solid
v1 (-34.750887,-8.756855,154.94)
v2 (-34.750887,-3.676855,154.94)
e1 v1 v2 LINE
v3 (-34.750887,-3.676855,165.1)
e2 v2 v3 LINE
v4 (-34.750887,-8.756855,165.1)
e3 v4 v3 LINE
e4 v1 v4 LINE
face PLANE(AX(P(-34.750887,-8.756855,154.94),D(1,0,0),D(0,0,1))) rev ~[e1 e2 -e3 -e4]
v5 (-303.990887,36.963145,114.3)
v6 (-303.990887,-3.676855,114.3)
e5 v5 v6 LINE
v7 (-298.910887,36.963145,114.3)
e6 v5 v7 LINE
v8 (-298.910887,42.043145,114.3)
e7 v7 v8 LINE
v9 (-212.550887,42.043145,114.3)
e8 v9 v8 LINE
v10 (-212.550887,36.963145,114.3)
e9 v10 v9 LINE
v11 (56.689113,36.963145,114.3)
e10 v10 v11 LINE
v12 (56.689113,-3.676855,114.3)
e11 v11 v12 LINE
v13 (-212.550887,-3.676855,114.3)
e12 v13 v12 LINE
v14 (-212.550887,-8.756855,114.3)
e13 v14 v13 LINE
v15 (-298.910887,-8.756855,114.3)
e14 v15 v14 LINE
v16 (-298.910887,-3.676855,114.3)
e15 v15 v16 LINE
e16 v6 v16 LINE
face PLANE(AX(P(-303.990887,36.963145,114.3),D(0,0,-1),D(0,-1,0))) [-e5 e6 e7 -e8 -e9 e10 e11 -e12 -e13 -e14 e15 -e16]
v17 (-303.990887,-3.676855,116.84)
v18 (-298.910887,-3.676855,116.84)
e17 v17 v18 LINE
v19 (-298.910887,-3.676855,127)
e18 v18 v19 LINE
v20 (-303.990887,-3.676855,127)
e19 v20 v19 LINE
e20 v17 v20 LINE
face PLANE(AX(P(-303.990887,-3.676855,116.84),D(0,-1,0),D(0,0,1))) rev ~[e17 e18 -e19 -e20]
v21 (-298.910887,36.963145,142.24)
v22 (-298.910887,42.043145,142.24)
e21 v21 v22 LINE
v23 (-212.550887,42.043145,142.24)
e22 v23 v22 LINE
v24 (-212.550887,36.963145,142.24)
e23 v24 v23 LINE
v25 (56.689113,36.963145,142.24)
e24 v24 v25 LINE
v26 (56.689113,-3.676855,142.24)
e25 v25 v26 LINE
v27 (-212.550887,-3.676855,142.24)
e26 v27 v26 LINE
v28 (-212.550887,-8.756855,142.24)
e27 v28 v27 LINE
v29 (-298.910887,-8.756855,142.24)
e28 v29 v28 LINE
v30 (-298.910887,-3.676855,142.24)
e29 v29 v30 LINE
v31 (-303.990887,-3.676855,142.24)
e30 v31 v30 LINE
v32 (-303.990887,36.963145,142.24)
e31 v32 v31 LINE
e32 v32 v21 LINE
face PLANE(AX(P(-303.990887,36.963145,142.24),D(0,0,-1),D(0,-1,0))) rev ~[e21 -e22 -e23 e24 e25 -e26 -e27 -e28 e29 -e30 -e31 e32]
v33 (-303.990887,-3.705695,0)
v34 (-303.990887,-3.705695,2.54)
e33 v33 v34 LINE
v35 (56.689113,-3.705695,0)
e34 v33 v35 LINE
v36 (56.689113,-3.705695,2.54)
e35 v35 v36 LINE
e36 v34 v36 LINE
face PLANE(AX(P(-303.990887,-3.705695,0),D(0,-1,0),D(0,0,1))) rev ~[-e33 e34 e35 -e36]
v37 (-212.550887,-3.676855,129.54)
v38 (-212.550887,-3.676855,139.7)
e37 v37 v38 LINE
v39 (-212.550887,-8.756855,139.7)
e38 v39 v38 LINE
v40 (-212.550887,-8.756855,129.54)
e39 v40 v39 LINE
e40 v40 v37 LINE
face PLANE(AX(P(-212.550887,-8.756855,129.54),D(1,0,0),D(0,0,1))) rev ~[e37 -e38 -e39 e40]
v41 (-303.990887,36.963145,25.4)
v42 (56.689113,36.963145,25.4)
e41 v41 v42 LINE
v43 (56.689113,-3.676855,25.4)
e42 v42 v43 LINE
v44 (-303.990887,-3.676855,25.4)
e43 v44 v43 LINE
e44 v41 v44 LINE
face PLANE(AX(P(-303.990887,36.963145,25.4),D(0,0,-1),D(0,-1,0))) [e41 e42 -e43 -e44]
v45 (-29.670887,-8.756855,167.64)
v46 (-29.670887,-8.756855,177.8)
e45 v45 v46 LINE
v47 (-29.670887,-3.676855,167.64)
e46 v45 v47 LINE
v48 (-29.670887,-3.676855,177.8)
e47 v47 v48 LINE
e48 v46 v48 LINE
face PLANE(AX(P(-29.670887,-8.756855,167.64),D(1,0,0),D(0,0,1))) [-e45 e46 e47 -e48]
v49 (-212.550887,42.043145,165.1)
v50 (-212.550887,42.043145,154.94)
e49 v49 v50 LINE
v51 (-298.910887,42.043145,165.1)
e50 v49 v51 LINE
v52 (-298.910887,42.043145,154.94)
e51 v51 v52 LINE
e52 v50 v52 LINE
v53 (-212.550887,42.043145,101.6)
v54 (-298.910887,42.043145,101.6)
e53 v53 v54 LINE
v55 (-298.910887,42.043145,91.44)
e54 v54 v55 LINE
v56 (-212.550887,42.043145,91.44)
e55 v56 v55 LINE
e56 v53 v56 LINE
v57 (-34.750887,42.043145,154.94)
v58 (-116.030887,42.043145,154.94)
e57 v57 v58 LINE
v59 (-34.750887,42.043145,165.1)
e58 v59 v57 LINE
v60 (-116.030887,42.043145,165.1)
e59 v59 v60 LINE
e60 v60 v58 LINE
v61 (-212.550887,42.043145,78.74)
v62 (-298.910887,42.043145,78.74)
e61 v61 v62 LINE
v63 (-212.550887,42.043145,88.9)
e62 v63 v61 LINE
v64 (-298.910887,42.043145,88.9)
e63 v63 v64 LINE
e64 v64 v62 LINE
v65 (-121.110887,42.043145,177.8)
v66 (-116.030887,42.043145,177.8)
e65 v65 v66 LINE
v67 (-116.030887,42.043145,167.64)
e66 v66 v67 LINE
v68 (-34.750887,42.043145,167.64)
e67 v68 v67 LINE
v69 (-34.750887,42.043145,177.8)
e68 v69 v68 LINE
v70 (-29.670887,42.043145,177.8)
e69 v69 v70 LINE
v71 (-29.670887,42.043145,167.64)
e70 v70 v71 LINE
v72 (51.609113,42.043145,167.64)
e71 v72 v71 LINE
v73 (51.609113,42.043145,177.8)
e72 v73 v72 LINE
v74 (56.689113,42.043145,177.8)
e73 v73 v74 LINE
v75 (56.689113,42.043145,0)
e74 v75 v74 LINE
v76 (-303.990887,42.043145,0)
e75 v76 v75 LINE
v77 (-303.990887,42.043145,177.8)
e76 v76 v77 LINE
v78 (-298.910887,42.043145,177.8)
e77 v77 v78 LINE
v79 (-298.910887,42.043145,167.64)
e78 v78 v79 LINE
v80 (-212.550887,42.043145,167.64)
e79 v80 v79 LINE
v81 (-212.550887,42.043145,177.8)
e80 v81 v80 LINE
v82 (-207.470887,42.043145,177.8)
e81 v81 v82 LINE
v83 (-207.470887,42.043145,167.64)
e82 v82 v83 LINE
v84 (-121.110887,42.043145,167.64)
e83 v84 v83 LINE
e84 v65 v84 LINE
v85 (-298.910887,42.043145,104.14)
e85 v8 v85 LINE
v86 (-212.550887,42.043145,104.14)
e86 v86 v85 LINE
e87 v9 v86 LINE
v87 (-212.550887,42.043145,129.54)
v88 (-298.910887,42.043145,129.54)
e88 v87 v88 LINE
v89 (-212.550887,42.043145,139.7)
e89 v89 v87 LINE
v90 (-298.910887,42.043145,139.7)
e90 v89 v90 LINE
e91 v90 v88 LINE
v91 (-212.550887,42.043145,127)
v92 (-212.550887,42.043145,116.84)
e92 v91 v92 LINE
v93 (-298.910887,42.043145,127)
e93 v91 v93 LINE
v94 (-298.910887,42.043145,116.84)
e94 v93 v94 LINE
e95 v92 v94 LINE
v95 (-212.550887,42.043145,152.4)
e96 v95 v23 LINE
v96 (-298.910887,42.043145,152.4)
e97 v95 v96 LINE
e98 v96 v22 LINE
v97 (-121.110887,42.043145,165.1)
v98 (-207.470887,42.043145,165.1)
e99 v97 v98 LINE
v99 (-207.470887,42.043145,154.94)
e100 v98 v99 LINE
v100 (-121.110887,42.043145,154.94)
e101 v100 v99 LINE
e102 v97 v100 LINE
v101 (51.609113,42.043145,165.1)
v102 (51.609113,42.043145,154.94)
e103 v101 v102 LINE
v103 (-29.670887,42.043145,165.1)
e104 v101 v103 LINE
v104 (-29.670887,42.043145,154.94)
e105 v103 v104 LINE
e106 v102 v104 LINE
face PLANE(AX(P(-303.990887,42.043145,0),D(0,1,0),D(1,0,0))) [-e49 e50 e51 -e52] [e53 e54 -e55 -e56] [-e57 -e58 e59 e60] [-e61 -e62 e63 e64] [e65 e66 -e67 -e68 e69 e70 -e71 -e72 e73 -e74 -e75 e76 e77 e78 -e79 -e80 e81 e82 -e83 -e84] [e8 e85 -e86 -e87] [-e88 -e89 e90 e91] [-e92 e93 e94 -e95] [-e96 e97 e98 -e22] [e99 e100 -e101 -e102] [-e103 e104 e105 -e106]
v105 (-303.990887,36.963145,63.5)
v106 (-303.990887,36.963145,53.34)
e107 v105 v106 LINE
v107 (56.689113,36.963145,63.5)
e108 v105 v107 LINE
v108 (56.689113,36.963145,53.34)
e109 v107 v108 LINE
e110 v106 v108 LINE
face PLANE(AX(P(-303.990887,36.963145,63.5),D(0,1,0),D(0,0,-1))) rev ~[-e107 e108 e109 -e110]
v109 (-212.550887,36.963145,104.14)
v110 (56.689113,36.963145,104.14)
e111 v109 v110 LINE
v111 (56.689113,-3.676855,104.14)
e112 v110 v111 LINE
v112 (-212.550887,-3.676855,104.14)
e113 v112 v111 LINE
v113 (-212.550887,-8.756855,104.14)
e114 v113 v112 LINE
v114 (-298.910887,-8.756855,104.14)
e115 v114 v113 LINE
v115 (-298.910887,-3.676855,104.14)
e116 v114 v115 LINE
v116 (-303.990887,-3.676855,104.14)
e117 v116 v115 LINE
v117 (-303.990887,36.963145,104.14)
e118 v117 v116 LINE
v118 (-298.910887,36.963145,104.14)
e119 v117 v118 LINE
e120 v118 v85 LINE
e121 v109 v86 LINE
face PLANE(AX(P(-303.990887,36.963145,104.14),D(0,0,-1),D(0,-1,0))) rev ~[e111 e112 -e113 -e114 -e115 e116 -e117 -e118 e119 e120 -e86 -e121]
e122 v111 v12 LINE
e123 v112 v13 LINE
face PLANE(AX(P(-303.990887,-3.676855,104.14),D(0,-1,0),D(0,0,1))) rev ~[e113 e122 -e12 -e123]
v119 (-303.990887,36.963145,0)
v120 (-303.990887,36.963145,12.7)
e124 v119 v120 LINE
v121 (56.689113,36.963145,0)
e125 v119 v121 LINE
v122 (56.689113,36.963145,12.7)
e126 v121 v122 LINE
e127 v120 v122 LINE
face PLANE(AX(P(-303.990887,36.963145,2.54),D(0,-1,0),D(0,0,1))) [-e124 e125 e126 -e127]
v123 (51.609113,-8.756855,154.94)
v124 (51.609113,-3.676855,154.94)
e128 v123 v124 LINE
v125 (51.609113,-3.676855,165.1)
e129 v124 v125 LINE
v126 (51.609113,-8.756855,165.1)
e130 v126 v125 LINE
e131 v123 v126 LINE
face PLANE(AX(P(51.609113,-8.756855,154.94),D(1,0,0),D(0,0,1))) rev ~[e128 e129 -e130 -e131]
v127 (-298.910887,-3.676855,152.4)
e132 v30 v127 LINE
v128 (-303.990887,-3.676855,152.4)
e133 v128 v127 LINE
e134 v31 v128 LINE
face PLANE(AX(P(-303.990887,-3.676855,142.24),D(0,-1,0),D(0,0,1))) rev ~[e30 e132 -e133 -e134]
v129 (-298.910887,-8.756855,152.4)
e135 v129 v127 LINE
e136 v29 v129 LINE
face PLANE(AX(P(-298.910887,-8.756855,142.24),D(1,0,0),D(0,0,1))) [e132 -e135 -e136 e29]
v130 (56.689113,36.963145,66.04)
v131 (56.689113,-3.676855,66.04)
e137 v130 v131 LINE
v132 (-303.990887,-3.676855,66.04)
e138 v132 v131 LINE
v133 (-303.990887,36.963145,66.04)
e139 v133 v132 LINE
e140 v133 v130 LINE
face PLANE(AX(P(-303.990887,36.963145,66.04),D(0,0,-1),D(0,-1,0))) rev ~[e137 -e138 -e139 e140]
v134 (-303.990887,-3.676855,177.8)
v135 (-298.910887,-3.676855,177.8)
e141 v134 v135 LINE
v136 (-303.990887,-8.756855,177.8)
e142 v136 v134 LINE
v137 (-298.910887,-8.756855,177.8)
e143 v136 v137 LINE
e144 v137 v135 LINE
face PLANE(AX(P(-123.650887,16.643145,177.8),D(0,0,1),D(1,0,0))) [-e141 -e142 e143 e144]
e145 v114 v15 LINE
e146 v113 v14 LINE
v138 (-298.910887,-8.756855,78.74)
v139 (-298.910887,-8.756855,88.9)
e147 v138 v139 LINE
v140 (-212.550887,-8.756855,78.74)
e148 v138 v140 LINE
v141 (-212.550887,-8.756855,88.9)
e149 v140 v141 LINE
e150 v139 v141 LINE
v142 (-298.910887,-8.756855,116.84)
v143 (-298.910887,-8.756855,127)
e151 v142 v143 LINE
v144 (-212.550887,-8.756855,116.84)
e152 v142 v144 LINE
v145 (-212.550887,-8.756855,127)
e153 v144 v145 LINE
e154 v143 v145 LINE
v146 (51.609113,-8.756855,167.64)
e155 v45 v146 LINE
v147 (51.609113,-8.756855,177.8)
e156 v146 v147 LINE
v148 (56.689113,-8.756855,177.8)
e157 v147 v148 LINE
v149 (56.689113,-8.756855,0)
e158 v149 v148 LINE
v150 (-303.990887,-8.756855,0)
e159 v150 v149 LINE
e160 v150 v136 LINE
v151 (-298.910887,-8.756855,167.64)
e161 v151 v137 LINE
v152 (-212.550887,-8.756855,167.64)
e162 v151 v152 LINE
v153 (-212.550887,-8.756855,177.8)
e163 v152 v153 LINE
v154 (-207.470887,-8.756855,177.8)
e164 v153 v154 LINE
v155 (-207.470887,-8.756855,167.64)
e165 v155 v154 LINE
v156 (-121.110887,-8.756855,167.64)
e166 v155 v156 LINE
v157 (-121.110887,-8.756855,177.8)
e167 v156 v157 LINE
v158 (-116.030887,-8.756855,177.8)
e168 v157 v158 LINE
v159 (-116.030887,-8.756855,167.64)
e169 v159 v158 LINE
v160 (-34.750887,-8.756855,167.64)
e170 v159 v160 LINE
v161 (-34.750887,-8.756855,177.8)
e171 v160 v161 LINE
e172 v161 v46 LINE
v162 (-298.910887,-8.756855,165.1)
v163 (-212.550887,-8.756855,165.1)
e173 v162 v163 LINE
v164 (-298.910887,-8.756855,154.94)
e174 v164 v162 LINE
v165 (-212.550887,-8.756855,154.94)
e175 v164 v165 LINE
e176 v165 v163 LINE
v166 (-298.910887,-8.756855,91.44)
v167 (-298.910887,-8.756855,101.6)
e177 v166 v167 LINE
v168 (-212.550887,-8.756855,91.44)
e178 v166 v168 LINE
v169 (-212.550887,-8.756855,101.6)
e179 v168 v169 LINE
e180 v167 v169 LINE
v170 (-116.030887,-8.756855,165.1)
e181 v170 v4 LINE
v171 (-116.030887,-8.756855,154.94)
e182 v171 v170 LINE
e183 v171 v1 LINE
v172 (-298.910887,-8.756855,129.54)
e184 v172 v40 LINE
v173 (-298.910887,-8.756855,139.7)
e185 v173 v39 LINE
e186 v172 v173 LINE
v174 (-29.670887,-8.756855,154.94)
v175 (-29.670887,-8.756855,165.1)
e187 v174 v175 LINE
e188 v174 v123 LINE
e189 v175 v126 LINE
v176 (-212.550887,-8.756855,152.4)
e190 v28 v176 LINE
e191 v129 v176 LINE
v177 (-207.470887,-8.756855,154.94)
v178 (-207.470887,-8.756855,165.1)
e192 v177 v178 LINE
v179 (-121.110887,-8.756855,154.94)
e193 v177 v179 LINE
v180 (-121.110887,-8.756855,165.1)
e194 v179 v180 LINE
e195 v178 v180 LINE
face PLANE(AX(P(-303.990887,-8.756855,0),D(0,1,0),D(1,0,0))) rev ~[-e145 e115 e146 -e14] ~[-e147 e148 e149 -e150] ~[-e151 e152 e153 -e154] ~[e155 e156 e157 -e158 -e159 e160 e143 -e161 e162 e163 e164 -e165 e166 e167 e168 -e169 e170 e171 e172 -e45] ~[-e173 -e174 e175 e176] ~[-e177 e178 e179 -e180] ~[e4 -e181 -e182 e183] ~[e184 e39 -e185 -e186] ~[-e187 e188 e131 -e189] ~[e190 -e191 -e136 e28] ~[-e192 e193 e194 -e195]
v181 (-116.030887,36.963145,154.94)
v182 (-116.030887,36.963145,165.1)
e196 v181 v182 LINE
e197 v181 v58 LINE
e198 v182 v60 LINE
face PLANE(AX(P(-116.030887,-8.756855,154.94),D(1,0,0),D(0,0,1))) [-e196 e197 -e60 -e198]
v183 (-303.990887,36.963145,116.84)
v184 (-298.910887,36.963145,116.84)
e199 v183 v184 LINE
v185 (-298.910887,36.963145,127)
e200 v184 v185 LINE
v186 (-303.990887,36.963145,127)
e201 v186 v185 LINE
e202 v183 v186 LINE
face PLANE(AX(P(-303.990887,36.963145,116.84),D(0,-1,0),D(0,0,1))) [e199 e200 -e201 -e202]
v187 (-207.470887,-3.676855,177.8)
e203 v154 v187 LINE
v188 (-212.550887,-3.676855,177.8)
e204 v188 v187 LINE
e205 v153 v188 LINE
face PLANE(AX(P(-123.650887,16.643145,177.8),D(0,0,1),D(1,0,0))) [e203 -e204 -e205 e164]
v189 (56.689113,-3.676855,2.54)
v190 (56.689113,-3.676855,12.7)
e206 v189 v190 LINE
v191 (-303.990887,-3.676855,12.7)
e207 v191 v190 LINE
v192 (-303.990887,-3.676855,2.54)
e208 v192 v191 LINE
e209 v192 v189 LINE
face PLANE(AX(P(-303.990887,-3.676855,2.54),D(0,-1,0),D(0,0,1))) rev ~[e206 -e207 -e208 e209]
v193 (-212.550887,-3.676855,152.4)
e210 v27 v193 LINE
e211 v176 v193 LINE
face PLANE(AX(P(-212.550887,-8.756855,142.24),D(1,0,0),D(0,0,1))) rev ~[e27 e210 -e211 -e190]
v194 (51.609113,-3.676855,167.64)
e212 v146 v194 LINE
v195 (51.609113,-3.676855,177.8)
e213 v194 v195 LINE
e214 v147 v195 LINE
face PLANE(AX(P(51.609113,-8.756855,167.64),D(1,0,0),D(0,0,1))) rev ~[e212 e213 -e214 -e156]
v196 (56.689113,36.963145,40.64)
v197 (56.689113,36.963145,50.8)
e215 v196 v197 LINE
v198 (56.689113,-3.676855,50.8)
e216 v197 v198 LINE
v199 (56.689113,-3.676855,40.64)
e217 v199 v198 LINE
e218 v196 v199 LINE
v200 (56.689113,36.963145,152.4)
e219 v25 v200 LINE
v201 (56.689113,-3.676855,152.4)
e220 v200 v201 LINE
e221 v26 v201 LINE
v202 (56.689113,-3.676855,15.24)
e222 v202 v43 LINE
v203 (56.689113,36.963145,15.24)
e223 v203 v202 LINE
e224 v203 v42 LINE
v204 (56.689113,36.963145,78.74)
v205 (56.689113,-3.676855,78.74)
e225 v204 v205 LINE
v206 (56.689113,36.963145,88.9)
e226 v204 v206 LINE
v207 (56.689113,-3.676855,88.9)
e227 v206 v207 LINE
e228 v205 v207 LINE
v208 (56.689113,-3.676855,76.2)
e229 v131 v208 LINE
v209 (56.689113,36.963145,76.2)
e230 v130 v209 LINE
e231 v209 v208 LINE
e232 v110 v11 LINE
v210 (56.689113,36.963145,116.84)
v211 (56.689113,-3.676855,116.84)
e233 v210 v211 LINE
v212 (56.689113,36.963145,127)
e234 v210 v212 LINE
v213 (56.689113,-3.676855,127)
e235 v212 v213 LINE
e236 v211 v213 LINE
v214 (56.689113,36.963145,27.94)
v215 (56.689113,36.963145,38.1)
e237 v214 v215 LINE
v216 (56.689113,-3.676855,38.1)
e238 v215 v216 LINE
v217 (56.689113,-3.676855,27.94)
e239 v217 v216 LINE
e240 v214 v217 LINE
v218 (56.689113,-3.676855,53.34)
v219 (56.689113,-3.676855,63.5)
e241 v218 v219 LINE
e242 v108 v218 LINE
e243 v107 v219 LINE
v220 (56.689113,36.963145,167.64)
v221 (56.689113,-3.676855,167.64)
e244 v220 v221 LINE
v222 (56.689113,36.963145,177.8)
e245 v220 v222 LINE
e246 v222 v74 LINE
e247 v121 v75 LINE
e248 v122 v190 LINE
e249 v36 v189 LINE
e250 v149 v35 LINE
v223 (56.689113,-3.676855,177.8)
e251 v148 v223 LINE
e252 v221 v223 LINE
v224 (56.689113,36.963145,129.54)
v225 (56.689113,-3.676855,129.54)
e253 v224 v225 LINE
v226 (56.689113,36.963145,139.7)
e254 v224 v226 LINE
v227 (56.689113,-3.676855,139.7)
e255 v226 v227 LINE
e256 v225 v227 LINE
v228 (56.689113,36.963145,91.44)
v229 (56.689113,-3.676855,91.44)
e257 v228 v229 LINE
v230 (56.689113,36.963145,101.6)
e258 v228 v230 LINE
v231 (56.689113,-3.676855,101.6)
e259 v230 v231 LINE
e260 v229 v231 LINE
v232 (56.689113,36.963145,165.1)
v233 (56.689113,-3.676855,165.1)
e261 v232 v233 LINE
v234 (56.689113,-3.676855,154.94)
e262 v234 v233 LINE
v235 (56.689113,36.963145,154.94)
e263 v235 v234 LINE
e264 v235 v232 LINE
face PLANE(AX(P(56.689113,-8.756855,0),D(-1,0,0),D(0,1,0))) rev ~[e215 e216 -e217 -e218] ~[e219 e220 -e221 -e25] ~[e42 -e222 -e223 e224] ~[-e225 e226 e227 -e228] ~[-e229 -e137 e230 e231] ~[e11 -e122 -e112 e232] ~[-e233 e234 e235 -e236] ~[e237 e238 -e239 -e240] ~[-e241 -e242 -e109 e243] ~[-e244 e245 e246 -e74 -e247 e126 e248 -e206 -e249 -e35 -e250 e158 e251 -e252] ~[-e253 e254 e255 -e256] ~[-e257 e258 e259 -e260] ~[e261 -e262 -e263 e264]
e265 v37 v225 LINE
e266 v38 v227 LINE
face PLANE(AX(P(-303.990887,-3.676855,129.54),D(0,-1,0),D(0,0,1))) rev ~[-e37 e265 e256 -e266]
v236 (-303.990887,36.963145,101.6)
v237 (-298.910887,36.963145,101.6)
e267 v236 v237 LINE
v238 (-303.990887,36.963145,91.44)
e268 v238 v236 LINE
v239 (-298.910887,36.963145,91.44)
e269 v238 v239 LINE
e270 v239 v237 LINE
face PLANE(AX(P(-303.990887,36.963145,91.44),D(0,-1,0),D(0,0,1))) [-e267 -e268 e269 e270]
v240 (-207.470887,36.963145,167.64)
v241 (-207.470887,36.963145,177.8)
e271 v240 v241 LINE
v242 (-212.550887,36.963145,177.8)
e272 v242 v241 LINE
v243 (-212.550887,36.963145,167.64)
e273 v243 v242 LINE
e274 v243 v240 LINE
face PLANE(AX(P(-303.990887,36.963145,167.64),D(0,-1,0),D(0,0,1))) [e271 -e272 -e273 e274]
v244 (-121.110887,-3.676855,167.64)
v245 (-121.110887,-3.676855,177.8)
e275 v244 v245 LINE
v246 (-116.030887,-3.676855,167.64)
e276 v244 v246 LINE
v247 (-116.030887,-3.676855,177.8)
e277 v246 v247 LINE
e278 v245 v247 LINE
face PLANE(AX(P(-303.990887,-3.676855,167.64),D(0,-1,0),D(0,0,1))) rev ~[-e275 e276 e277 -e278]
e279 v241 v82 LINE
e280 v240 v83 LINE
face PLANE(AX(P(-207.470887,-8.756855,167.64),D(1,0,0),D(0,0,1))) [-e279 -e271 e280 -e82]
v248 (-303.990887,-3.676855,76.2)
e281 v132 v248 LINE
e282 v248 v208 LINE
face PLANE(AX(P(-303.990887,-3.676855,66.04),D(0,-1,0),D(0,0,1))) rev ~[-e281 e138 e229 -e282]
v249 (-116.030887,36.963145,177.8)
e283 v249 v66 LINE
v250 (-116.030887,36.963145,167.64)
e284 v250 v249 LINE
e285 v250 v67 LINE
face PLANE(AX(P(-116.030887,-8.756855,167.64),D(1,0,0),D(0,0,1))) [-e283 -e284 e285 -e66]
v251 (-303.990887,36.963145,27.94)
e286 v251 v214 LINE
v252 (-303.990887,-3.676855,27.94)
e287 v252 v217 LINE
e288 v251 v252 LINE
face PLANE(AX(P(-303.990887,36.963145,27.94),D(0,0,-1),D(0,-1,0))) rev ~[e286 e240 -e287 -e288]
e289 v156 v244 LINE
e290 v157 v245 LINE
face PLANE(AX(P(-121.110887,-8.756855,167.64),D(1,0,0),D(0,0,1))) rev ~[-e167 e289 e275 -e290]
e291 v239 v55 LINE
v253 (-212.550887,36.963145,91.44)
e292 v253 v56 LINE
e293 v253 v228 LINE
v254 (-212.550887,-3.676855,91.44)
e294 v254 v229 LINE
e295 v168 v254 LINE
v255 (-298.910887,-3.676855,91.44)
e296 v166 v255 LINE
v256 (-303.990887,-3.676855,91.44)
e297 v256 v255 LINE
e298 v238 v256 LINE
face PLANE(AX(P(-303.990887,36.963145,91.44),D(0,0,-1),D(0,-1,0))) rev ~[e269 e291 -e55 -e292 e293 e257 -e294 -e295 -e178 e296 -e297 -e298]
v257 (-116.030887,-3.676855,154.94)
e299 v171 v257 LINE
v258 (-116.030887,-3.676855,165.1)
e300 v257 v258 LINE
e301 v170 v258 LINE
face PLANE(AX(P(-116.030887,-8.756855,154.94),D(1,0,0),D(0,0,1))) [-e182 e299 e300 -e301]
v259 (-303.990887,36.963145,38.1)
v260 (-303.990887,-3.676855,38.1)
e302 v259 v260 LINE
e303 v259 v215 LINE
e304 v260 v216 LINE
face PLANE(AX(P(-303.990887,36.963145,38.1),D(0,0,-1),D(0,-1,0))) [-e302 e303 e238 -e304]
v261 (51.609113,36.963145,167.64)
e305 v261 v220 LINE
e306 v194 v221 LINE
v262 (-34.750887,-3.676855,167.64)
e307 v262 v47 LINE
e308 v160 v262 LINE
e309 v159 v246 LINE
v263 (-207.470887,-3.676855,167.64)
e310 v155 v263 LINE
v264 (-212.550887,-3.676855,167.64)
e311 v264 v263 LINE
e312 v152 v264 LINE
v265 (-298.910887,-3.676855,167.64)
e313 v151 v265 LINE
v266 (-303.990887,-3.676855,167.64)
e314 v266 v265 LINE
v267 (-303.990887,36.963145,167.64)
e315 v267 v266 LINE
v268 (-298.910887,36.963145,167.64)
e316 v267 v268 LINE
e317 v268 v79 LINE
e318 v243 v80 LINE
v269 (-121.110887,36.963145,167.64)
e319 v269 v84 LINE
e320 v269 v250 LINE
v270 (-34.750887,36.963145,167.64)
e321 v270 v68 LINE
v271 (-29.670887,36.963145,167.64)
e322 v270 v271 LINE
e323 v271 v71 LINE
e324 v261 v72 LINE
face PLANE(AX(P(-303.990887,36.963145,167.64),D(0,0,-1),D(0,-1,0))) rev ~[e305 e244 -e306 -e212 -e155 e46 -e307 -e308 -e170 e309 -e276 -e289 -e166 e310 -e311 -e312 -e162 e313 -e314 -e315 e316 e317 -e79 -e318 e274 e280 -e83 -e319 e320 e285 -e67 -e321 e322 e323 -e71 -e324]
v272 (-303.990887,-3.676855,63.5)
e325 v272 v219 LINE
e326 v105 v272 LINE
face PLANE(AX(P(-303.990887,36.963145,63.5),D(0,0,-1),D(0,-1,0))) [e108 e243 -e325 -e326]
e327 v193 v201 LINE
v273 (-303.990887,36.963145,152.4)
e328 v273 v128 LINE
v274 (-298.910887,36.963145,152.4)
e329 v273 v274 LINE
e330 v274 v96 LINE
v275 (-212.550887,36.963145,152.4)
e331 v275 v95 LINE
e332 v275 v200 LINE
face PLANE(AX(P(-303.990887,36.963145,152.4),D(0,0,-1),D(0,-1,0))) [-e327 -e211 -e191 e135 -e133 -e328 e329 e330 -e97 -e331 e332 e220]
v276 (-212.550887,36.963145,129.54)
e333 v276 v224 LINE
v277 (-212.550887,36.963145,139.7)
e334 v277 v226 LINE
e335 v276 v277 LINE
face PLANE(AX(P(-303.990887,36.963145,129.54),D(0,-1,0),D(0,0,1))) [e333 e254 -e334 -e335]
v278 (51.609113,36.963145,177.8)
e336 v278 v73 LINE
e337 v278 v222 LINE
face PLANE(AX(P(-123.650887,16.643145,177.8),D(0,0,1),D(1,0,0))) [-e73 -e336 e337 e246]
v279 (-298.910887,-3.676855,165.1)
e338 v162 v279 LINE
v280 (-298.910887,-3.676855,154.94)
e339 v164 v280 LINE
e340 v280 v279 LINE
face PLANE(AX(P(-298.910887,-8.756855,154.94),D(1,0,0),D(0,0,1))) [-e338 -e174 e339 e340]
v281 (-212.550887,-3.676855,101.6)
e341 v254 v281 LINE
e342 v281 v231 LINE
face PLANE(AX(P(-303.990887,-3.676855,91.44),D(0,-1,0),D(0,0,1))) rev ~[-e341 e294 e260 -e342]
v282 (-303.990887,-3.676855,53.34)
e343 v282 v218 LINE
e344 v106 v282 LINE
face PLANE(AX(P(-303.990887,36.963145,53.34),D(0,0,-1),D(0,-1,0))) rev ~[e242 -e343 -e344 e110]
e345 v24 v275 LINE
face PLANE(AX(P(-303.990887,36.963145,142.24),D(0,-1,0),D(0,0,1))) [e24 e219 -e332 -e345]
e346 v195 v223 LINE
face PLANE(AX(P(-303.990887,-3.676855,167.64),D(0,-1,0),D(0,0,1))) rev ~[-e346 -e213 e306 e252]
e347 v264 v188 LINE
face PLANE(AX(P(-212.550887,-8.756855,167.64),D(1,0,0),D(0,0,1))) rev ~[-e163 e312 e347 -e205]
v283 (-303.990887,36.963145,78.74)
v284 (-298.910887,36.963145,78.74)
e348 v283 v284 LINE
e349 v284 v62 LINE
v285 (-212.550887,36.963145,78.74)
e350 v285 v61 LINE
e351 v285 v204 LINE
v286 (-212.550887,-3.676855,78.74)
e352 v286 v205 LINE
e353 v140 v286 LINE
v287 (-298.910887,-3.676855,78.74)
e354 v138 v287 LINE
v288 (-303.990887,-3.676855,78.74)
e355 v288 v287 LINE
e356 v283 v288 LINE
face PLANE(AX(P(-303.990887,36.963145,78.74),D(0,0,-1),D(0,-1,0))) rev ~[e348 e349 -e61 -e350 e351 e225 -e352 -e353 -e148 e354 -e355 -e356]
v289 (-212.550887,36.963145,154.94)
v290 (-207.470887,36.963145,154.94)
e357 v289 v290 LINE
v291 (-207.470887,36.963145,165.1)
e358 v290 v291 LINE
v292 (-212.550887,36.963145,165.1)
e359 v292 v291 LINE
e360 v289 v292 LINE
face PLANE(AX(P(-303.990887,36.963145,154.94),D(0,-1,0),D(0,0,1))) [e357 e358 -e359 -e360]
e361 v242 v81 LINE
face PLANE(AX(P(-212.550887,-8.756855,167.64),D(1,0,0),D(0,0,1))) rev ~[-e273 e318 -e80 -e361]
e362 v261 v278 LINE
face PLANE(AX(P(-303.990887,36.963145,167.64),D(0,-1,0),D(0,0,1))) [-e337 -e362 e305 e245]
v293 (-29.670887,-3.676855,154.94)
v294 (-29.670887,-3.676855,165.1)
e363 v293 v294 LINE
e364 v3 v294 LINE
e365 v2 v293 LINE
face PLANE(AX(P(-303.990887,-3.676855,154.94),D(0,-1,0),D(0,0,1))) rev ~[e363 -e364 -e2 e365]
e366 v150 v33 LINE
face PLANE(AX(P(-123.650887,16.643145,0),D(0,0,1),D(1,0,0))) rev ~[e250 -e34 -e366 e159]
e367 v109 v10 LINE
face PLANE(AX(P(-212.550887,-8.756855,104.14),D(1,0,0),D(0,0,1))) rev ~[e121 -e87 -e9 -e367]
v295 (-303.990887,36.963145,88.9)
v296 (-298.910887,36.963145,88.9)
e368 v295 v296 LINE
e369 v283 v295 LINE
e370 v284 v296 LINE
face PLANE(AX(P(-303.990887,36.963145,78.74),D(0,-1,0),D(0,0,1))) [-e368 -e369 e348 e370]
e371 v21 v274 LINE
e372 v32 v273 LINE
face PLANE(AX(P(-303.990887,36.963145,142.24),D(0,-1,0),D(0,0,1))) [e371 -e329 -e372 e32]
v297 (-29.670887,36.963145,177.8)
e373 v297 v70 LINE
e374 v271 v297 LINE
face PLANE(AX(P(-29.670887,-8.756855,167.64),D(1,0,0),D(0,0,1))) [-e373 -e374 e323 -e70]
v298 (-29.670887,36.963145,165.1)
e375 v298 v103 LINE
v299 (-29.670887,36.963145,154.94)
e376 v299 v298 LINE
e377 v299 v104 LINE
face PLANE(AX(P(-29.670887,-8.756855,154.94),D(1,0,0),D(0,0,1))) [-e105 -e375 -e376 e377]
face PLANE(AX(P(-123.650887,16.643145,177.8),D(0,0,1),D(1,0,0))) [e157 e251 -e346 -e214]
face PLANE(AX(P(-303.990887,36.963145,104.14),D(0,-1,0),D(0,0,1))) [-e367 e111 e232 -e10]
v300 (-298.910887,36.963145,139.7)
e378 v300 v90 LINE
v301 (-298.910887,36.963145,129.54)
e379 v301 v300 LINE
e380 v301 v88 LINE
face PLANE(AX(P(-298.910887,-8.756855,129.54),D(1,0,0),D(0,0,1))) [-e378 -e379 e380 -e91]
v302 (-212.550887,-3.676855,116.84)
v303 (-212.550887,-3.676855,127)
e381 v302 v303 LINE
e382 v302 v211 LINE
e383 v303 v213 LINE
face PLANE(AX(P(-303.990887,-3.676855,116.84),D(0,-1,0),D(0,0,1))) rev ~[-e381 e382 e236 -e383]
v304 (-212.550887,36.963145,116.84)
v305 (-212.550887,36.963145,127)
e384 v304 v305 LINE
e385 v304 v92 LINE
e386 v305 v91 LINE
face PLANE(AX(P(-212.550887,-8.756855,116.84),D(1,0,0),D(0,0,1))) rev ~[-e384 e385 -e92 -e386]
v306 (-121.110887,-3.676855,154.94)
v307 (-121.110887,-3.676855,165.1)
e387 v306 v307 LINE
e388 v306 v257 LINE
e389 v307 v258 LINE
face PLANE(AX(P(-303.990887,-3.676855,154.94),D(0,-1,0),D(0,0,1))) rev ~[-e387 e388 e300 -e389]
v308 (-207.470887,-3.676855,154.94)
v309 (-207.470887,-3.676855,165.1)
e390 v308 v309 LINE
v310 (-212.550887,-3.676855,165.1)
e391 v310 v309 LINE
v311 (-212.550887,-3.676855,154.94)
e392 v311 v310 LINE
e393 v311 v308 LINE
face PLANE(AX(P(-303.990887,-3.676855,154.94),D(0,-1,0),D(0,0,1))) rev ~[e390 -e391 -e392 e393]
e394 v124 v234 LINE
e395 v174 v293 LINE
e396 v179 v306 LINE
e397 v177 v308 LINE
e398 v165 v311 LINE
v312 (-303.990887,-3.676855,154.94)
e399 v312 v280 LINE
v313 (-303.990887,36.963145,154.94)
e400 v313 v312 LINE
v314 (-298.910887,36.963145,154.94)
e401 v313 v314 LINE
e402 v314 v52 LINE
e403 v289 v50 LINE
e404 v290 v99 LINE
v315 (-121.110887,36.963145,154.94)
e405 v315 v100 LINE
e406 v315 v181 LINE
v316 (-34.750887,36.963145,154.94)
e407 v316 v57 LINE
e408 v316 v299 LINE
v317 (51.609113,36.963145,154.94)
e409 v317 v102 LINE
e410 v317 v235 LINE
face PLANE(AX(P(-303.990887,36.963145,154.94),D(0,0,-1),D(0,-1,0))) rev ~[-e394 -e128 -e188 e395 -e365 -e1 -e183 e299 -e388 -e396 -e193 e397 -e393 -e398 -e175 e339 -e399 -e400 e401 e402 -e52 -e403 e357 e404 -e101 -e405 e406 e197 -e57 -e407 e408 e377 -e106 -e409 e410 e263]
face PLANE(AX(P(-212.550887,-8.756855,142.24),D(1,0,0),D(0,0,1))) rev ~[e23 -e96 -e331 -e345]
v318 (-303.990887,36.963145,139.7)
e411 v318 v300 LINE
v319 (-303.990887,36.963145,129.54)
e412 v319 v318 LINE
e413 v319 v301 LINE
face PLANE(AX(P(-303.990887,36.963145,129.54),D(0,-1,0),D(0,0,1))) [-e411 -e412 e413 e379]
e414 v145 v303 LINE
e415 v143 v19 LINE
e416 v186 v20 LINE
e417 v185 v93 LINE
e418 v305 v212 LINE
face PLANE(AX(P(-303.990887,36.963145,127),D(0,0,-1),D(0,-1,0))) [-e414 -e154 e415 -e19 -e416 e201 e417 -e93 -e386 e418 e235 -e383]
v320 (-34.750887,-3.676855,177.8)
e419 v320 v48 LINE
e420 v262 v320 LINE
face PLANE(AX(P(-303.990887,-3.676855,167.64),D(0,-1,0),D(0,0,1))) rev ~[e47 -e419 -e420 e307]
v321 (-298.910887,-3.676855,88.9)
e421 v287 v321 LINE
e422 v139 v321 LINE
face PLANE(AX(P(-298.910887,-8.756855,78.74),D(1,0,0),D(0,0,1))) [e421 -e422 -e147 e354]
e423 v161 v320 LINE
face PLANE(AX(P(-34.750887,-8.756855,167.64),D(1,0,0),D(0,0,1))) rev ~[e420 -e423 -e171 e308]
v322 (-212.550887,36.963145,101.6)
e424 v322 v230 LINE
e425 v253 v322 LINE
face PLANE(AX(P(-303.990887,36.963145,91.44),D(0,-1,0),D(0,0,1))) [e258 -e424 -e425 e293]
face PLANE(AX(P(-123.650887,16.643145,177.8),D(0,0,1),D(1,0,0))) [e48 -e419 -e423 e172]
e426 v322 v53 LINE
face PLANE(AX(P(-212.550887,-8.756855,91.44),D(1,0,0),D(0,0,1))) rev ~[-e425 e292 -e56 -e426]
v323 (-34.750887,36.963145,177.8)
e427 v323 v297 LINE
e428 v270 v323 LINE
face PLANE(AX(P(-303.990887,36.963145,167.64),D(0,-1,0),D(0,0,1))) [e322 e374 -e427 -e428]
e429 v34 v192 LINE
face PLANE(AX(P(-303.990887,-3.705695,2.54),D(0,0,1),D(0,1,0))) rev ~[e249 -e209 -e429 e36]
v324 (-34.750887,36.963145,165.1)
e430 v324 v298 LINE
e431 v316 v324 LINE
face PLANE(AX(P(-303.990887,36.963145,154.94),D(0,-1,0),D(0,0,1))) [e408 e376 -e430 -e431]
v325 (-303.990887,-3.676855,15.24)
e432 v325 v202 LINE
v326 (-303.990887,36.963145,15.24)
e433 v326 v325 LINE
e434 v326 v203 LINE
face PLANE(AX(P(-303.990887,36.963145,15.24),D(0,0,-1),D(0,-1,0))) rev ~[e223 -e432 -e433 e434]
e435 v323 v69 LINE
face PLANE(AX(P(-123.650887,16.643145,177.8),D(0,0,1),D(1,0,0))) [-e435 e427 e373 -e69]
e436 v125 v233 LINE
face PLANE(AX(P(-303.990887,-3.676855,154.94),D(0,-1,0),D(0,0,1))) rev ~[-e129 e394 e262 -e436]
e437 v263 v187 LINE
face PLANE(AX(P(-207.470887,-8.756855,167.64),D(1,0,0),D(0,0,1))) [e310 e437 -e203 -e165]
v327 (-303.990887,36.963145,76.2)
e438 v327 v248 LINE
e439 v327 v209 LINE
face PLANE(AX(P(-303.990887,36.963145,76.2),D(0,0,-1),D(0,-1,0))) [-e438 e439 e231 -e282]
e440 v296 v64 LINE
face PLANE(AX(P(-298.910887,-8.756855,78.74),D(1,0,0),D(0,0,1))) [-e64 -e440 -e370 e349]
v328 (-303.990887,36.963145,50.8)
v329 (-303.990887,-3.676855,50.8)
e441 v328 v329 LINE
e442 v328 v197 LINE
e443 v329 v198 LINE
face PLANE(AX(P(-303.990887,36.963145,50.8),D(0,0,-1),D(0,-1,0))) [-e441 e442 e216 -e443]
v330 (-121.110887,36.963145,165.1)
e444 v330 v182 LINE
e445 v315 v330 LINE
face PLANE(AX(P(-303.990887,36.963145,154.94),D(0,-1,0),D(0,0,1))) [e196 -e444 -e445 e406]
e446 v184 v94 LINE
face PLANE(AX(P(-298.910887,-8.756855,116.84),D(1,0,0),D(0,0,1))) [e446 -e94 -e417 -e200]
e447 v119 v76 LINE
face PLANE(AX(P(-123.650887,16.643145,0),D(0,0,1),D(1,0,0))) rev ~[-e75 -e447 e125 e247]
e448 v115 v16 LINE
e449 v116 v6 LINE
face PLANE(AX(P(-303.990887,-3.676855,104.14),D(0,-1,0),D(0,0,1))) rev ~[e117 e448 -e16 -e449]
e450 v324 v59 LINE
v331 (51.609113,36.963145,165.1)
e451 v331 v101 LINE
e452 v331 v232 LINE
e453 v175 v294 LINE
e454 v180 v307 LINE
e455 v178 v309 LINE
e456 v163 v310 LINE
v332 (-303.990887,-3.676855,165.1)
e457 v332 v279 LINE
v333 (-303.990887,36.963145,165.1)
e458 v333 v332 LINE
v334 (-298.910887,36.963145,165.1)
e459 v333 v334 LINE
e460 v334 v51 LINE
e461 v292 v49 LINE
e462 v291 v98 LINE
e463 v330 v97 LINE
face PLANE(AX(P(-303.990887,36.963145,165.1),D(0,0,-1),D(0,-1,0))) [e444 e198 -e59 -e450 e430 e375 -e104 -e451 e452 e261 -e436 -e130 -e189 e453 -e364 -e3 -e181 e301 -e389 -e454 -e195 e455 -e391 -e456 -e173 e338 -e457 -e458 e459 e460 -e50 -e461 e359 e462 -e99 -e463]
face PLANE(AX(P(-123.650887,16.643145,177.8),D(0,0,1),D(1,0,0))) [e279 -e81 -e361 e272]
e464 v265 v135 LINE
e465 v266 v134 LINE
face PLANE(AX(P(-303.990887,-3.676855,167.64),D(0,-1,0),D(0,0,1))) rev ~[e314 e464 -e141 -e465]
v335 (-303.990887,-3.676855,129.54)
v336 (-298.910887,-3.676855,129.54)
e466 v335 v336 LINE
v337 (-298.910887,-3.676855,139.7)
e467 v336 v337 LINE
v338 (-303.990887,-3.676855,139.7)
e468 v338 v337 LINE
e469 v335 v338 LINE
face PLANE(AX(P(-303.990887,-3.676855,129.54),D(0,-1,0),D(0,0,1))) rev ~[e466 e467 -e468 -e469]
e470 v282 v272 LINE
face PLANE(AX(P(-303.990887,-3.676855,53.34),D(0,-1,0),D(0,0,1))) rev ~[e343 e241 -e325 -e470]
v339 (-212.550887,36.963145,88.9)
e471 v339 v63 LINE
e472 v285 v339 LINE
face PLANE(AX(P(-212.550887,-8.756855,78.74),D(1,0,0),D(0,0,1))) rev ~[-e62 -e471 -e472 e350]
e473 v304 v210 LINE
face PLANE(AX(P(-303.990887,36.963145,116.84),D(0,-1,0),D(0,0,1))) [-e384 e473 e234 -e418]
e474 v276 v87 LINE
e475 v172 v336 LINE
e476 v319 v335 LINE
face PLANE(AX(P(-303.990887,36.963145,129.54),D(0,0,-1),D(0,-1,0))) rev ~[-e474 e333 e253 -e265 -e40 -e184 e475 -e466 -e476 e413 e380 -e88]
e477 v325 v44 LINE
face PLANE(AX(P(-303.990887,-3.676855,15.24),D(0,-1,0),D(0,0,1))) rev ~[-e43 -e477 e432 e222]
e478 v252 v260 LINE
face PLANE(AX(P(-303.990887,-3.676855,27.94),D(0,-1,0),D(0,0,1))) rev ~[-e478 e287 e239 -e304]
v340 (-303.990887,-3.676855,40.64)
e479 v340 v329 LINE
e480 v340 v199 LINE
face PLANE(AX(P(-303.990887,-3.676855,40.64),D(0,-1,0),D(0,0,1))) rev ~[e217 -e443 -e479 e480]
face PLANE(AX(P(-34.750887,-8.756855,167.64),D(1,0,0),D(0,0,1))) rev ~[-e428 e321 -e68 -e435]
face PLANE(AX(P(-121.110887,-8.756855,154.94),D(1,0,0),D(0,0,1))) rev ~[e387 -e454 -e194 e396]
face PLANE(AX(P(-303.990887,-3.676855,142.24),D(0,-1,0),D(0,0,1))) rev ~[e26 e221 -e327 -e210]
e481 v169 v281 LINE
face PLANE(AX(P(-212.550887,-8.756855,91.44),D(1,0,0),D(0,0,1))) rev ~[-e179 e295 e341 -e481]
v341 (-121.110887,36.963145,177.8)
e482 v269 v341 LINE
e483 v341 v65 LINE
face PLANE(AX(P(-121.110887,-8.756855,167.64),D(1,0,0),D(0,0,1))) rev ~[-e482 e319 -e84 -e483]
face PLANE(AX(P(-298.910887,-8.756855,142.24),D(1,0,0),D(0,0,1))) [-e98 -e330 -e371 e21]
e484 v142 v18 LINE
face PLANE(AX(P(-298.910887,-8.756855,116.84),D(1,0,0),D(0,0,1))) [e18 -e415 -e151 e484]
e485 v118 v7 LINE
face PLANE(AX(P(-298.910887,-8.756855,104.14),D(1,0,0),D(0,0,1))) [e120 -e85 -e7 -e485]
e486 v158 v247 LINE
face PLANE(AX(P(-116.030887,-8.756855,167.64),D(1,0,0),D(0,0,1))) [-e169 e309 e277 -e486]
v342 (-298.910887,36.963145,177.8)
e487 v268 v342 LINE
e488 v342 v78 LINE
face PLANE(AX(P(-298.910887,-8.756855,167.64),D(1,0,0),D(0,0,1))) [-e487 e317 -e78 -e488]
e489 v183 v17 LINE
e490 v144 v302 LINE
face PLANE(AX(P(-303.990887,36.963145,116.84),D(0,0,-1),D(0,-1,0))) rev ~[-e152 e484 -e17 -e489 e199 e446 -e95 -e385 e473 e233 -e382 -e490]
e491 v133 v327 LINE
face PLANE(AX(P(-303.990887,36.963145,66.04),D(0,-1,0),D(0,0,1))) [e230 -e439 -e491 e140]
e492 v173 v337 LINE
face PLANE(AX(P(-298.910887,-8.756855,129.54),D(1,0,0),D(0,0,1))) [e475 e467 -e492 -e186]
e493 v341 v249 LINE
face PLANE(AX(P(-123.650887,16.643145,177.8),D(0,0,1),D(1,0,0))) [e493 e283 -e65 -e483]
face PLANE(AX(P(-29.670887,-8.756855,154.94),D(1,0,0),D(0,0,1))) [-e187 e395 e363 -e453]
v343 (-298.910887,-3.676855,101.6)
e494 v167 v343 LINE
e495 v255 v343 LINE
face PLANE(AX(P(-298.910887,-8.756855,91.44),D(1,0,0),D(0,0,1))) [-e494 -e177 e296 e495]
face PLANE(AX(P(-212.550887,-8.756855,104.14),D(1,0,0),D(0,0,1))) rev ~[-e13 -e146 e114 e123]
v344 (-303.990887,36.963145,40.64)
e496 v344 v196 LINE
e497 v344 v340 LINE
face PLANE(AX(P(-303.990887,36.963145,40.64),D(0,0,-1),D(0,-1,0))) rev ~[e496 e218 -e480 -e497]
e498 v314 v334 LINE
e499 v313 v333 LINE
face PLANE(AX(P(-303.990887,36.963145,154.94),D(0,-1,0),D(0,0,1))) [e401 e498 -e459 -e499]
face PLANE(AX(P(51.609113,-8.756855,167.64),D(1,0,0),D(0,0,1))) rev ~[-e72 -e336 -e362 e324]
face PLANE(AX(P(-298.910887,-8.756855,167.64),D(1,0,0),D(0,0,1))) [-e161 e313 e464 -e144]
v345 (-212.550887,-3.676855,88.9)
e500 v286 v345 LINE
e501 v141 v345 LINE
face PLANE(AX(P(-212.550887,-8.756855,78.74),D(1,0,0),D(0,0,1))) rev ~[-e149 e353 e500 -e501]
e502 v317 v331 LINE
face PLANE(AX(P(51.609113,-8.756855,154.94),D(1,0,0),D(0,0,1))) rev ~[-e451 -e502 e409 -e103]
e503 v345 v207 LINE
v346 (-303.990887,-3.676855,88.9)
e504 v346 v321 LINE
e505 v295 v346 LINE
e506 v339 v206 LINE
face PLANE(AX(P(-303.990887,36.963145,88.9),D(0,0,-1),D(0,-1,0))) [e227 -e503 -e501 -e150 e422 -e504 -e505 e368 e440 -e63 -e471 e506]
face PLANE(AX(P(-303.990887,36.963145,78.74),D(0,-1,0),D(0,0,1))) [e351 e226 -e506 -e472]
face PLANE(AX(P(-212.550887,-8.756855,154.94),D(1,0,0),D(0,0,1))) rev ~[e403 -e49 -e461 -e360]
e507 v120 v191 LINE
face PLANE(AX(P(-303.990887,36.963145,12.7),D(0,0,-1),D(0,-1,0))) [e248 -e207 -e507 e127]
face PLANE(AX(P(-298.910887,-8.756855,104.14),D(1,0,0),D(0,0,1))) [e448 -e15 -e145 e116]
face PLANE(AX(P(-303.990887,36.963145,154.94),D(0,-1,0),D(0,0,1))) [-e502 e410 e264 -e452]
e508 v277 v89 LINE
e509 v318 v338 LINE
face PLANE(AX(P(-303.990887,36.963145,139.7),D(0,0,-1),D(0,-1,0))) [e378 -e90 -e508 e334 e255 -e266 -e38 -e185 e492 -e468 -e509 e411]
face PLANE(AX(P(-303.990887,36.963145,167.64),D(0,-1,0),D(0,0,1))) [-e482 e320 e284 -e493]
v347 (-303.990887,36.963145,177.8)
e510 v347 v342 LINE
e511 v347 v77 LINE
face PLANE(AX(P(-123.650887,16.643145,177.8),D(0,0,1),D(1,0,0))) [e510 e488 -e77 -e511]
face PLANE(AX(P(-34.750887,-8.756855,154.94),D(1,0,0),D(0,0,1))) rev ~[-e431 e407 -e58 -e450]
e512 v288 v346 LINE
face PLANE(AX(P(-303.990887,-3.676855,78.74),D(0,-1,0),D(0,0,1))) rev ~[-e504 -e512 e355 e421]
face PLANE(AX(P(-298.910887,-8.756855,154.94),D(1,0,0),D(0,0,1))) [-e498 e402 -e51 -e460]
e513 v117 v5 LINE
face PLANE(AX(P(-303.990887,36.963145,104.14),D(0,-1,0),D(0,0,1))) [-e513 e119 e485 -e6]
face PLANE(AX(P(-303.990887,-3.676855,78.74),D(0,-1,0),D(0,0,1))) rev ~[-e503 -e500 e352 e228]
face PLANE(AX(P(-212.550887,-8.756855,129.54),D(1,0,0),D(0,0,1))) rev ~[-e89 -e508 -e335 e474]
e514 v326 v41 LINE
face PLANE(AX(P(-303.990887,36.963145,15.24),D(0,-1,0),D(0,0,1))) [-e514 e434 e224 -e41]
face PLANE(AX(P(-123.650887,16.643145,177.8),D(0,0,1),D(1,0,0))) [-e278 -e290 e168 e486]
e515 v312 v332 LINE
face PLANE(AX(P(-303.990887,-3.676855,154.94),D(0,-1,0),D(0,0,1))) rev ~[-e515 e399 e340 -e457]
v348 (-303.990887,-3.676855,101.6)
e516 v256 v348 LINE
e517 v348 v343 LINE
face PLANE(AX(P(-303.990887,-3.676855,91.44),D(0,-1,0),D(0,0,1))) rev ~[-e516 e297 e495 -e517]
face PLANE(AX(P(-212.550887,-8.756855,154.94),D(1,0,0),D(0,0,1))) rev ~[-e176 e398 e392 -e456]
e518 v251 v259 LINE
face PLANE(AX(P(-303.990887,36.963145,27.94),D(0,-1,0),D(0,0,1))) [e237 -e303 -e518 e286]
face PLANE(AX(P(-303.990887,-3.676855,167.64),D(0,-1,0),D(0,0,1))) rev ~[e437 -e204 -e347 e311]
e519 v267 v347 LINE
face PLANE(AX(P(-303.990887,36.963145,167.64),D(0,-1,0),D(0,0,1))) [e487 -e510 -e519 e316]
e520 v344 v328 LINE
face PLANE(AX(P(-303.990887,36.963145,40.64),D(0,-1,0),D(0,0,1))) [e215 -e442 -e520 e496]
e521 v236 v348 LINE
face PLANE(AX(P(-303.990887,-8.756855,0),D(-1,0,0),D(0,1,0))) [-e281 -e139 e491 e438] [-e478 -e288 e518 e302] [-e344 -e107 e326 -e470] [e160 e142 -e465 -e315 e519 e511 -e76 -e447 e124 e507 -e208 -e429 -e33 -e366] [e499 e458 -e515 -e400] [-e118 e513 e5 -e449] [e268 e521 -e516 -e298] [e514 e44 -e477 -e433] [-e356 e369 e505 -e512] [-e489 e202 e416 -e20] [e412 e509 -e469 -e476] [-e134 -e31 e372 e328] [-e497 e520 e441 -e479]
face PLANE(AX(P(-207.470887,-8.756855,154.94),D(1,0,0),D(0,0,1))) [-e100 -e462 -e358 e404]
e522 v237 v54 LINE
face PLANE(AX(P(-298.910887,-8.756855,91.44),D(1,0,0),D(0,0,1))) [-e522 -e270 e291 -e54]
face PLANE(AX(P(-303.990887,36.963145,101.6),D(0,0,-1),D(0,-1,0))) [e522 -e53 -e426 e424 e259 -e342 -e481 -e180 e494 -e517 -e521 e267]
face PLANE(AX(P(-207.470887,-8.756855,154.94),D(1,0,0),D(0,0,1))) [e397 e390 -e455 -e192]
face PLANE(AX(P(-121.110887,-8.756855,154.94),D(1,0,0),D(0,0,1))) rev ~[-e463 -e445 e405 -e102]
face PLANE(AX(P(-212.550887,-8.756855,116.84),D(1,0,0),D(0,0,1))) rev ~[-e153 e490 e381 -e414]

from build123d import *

# Parameters (mm, degrees)
F0_W     = 360.68
F0_H     = 50.8
F1_DEPTH = 177.8
F2_W     = 40.64
F2_H     = 10.16
F2_H_2   = 7.62
F2_H_3   = 2.54
F3_DEPTH = 360.681
F4_W     = 86.36
F4_H     = 10.16
F4_W_2   = 81.28
F5_DEPTH = 50.801
F7_DEPTH = 360.681


with BuildPart() as f1:
    # F0 (on Top) → F1 (new body)
    with BuildSketch(Plane.XY):
        with Locations((-123.650887, 16.643145)):
            Rectangle(F0_W, F0_H)
    extrude(amount=F1_DEPTH)

    # F2 (on face) → F3 (cut, through all)
    with BuildSketch(Plane(origin=(-303.990887, 0, 0), x_dir=(0, -1, 0), z_dir=(-1, 0, 0))):
        with Locations((-16.643145, 7.62)):
            Rectangle(F2_W, F2_H)
        with Locations((-16.643145, 20.32)):
            Rectangle(F2_W, F2_H)
        with Locations((-16.643145, 33.02)):
            Rectangle(F2_W, F2_H)
        with Locations((-16.643145, 45.72)):
            Rectangle(F2_W, F2_H)
        with Locations((-16.643145, 57.15)):
            Rectangle(F2_W, F2_H_2)
        with Locations((-16.643145, 62.23)):
            Rectangle(F2_W, F2_H_3)
        with Locations((-16.643145, 71.12)):
            Rectangle(F2_W, F2_H)
        with Locations((-16.643145, 83.82)):
            Rectangle(F2_W, F2_H)
        with Locations((-16.643145, 96.52)):
            Rectangle(F2_W, F2_H)
        with Locations((-16.643145, 109.22)):
            Rectangle(F2_W, F2_H)
        with Locations((-16.643145, 121.92)):
            Rectangle(F2_W, F2_H)
        with Locations((-16.643145, 134.62)):
            Rectangle(F2_W, F2_H)
        with Locations((-16.643145, 147.32)):
            Rectangle(F2_W, F2_H)
        with Locations((-16.643145, 160.02)):
            Rectangle(F2_W, F2_H)
        with Locations((-16.643145, 172.72)):
            Rectangle(F2_W, F2_H)
    extrude(amount=-F3_DEPTH, mode=Mode.SUBTRACT)

    # F4 (on face) → F5 (cut, through all)
    with BuildSketch(Plane.XZ.offset(8.756855)):
        with Locations((-255.730887, 172.72)):
            Rectangle(F4_W, F4_H)
        with Locations((-164.290887, 172.72)):
            Rectangle(F4_W, F4_H)
        with Locations((-164.290887, 160.02)):
            Rectangle(F4_W, F4_H)
        with Locations((-75.390887, 172.72)):
            Rectangle(F4_W_2, F4_H)
        with Locations((-75.390887, 160.02)):
            Rectangle(F4_W_2, F4_H)
        with Locations((10.969113, 172.72)):
            Rectangle(F4_W_2, F4_H)
        with Locations((10.969113, 160.02)):
            Rectangle(F4_W_2, F4_H)
        with Locations((-255.730887, 160.02)):
            Rectangle(F4_W, F4_H)
        with Locations((-255.730887, 147.32)):
            Rectangle(F4_W, F4_H)
        with Locations((-255.730887, 134.62)):
            Rectangle(F4_W, F4_H)
        with Locations((-255.730887, 121.92)):
            Rectangle(F4_W, F4_H)
        with Locations((-255.730887, 109.22)):
            Rectangle(F4_W, F4_H)
        with Locations((-255.730887, 96.52)):
            Rectangle(F4_W, F4_H)
        with Locations((-255.730887, 83.82)):
            Rectangle(F4_W, F4_H)
    extrude(amount=-F5_DEPTH, mode=Mode.SUBTRACT)

    # F6 (on face) → F7 (cut, through all)
    with BuildSketch(Plane(origin=(-303.990887, 0, 0), x_dir=(0, -1, 0), z_dir=(-1, 0, 0))):
        Polygon((3.676855, 2.54), (-36.963145, 2.54), (-36.963145, 0), (3.705695, 0), (3.705695, 2.54), align=None)
    extrude(amount=-F7_DEPTH, mode=Mode.SUBTRACT)


solid = f1.part
